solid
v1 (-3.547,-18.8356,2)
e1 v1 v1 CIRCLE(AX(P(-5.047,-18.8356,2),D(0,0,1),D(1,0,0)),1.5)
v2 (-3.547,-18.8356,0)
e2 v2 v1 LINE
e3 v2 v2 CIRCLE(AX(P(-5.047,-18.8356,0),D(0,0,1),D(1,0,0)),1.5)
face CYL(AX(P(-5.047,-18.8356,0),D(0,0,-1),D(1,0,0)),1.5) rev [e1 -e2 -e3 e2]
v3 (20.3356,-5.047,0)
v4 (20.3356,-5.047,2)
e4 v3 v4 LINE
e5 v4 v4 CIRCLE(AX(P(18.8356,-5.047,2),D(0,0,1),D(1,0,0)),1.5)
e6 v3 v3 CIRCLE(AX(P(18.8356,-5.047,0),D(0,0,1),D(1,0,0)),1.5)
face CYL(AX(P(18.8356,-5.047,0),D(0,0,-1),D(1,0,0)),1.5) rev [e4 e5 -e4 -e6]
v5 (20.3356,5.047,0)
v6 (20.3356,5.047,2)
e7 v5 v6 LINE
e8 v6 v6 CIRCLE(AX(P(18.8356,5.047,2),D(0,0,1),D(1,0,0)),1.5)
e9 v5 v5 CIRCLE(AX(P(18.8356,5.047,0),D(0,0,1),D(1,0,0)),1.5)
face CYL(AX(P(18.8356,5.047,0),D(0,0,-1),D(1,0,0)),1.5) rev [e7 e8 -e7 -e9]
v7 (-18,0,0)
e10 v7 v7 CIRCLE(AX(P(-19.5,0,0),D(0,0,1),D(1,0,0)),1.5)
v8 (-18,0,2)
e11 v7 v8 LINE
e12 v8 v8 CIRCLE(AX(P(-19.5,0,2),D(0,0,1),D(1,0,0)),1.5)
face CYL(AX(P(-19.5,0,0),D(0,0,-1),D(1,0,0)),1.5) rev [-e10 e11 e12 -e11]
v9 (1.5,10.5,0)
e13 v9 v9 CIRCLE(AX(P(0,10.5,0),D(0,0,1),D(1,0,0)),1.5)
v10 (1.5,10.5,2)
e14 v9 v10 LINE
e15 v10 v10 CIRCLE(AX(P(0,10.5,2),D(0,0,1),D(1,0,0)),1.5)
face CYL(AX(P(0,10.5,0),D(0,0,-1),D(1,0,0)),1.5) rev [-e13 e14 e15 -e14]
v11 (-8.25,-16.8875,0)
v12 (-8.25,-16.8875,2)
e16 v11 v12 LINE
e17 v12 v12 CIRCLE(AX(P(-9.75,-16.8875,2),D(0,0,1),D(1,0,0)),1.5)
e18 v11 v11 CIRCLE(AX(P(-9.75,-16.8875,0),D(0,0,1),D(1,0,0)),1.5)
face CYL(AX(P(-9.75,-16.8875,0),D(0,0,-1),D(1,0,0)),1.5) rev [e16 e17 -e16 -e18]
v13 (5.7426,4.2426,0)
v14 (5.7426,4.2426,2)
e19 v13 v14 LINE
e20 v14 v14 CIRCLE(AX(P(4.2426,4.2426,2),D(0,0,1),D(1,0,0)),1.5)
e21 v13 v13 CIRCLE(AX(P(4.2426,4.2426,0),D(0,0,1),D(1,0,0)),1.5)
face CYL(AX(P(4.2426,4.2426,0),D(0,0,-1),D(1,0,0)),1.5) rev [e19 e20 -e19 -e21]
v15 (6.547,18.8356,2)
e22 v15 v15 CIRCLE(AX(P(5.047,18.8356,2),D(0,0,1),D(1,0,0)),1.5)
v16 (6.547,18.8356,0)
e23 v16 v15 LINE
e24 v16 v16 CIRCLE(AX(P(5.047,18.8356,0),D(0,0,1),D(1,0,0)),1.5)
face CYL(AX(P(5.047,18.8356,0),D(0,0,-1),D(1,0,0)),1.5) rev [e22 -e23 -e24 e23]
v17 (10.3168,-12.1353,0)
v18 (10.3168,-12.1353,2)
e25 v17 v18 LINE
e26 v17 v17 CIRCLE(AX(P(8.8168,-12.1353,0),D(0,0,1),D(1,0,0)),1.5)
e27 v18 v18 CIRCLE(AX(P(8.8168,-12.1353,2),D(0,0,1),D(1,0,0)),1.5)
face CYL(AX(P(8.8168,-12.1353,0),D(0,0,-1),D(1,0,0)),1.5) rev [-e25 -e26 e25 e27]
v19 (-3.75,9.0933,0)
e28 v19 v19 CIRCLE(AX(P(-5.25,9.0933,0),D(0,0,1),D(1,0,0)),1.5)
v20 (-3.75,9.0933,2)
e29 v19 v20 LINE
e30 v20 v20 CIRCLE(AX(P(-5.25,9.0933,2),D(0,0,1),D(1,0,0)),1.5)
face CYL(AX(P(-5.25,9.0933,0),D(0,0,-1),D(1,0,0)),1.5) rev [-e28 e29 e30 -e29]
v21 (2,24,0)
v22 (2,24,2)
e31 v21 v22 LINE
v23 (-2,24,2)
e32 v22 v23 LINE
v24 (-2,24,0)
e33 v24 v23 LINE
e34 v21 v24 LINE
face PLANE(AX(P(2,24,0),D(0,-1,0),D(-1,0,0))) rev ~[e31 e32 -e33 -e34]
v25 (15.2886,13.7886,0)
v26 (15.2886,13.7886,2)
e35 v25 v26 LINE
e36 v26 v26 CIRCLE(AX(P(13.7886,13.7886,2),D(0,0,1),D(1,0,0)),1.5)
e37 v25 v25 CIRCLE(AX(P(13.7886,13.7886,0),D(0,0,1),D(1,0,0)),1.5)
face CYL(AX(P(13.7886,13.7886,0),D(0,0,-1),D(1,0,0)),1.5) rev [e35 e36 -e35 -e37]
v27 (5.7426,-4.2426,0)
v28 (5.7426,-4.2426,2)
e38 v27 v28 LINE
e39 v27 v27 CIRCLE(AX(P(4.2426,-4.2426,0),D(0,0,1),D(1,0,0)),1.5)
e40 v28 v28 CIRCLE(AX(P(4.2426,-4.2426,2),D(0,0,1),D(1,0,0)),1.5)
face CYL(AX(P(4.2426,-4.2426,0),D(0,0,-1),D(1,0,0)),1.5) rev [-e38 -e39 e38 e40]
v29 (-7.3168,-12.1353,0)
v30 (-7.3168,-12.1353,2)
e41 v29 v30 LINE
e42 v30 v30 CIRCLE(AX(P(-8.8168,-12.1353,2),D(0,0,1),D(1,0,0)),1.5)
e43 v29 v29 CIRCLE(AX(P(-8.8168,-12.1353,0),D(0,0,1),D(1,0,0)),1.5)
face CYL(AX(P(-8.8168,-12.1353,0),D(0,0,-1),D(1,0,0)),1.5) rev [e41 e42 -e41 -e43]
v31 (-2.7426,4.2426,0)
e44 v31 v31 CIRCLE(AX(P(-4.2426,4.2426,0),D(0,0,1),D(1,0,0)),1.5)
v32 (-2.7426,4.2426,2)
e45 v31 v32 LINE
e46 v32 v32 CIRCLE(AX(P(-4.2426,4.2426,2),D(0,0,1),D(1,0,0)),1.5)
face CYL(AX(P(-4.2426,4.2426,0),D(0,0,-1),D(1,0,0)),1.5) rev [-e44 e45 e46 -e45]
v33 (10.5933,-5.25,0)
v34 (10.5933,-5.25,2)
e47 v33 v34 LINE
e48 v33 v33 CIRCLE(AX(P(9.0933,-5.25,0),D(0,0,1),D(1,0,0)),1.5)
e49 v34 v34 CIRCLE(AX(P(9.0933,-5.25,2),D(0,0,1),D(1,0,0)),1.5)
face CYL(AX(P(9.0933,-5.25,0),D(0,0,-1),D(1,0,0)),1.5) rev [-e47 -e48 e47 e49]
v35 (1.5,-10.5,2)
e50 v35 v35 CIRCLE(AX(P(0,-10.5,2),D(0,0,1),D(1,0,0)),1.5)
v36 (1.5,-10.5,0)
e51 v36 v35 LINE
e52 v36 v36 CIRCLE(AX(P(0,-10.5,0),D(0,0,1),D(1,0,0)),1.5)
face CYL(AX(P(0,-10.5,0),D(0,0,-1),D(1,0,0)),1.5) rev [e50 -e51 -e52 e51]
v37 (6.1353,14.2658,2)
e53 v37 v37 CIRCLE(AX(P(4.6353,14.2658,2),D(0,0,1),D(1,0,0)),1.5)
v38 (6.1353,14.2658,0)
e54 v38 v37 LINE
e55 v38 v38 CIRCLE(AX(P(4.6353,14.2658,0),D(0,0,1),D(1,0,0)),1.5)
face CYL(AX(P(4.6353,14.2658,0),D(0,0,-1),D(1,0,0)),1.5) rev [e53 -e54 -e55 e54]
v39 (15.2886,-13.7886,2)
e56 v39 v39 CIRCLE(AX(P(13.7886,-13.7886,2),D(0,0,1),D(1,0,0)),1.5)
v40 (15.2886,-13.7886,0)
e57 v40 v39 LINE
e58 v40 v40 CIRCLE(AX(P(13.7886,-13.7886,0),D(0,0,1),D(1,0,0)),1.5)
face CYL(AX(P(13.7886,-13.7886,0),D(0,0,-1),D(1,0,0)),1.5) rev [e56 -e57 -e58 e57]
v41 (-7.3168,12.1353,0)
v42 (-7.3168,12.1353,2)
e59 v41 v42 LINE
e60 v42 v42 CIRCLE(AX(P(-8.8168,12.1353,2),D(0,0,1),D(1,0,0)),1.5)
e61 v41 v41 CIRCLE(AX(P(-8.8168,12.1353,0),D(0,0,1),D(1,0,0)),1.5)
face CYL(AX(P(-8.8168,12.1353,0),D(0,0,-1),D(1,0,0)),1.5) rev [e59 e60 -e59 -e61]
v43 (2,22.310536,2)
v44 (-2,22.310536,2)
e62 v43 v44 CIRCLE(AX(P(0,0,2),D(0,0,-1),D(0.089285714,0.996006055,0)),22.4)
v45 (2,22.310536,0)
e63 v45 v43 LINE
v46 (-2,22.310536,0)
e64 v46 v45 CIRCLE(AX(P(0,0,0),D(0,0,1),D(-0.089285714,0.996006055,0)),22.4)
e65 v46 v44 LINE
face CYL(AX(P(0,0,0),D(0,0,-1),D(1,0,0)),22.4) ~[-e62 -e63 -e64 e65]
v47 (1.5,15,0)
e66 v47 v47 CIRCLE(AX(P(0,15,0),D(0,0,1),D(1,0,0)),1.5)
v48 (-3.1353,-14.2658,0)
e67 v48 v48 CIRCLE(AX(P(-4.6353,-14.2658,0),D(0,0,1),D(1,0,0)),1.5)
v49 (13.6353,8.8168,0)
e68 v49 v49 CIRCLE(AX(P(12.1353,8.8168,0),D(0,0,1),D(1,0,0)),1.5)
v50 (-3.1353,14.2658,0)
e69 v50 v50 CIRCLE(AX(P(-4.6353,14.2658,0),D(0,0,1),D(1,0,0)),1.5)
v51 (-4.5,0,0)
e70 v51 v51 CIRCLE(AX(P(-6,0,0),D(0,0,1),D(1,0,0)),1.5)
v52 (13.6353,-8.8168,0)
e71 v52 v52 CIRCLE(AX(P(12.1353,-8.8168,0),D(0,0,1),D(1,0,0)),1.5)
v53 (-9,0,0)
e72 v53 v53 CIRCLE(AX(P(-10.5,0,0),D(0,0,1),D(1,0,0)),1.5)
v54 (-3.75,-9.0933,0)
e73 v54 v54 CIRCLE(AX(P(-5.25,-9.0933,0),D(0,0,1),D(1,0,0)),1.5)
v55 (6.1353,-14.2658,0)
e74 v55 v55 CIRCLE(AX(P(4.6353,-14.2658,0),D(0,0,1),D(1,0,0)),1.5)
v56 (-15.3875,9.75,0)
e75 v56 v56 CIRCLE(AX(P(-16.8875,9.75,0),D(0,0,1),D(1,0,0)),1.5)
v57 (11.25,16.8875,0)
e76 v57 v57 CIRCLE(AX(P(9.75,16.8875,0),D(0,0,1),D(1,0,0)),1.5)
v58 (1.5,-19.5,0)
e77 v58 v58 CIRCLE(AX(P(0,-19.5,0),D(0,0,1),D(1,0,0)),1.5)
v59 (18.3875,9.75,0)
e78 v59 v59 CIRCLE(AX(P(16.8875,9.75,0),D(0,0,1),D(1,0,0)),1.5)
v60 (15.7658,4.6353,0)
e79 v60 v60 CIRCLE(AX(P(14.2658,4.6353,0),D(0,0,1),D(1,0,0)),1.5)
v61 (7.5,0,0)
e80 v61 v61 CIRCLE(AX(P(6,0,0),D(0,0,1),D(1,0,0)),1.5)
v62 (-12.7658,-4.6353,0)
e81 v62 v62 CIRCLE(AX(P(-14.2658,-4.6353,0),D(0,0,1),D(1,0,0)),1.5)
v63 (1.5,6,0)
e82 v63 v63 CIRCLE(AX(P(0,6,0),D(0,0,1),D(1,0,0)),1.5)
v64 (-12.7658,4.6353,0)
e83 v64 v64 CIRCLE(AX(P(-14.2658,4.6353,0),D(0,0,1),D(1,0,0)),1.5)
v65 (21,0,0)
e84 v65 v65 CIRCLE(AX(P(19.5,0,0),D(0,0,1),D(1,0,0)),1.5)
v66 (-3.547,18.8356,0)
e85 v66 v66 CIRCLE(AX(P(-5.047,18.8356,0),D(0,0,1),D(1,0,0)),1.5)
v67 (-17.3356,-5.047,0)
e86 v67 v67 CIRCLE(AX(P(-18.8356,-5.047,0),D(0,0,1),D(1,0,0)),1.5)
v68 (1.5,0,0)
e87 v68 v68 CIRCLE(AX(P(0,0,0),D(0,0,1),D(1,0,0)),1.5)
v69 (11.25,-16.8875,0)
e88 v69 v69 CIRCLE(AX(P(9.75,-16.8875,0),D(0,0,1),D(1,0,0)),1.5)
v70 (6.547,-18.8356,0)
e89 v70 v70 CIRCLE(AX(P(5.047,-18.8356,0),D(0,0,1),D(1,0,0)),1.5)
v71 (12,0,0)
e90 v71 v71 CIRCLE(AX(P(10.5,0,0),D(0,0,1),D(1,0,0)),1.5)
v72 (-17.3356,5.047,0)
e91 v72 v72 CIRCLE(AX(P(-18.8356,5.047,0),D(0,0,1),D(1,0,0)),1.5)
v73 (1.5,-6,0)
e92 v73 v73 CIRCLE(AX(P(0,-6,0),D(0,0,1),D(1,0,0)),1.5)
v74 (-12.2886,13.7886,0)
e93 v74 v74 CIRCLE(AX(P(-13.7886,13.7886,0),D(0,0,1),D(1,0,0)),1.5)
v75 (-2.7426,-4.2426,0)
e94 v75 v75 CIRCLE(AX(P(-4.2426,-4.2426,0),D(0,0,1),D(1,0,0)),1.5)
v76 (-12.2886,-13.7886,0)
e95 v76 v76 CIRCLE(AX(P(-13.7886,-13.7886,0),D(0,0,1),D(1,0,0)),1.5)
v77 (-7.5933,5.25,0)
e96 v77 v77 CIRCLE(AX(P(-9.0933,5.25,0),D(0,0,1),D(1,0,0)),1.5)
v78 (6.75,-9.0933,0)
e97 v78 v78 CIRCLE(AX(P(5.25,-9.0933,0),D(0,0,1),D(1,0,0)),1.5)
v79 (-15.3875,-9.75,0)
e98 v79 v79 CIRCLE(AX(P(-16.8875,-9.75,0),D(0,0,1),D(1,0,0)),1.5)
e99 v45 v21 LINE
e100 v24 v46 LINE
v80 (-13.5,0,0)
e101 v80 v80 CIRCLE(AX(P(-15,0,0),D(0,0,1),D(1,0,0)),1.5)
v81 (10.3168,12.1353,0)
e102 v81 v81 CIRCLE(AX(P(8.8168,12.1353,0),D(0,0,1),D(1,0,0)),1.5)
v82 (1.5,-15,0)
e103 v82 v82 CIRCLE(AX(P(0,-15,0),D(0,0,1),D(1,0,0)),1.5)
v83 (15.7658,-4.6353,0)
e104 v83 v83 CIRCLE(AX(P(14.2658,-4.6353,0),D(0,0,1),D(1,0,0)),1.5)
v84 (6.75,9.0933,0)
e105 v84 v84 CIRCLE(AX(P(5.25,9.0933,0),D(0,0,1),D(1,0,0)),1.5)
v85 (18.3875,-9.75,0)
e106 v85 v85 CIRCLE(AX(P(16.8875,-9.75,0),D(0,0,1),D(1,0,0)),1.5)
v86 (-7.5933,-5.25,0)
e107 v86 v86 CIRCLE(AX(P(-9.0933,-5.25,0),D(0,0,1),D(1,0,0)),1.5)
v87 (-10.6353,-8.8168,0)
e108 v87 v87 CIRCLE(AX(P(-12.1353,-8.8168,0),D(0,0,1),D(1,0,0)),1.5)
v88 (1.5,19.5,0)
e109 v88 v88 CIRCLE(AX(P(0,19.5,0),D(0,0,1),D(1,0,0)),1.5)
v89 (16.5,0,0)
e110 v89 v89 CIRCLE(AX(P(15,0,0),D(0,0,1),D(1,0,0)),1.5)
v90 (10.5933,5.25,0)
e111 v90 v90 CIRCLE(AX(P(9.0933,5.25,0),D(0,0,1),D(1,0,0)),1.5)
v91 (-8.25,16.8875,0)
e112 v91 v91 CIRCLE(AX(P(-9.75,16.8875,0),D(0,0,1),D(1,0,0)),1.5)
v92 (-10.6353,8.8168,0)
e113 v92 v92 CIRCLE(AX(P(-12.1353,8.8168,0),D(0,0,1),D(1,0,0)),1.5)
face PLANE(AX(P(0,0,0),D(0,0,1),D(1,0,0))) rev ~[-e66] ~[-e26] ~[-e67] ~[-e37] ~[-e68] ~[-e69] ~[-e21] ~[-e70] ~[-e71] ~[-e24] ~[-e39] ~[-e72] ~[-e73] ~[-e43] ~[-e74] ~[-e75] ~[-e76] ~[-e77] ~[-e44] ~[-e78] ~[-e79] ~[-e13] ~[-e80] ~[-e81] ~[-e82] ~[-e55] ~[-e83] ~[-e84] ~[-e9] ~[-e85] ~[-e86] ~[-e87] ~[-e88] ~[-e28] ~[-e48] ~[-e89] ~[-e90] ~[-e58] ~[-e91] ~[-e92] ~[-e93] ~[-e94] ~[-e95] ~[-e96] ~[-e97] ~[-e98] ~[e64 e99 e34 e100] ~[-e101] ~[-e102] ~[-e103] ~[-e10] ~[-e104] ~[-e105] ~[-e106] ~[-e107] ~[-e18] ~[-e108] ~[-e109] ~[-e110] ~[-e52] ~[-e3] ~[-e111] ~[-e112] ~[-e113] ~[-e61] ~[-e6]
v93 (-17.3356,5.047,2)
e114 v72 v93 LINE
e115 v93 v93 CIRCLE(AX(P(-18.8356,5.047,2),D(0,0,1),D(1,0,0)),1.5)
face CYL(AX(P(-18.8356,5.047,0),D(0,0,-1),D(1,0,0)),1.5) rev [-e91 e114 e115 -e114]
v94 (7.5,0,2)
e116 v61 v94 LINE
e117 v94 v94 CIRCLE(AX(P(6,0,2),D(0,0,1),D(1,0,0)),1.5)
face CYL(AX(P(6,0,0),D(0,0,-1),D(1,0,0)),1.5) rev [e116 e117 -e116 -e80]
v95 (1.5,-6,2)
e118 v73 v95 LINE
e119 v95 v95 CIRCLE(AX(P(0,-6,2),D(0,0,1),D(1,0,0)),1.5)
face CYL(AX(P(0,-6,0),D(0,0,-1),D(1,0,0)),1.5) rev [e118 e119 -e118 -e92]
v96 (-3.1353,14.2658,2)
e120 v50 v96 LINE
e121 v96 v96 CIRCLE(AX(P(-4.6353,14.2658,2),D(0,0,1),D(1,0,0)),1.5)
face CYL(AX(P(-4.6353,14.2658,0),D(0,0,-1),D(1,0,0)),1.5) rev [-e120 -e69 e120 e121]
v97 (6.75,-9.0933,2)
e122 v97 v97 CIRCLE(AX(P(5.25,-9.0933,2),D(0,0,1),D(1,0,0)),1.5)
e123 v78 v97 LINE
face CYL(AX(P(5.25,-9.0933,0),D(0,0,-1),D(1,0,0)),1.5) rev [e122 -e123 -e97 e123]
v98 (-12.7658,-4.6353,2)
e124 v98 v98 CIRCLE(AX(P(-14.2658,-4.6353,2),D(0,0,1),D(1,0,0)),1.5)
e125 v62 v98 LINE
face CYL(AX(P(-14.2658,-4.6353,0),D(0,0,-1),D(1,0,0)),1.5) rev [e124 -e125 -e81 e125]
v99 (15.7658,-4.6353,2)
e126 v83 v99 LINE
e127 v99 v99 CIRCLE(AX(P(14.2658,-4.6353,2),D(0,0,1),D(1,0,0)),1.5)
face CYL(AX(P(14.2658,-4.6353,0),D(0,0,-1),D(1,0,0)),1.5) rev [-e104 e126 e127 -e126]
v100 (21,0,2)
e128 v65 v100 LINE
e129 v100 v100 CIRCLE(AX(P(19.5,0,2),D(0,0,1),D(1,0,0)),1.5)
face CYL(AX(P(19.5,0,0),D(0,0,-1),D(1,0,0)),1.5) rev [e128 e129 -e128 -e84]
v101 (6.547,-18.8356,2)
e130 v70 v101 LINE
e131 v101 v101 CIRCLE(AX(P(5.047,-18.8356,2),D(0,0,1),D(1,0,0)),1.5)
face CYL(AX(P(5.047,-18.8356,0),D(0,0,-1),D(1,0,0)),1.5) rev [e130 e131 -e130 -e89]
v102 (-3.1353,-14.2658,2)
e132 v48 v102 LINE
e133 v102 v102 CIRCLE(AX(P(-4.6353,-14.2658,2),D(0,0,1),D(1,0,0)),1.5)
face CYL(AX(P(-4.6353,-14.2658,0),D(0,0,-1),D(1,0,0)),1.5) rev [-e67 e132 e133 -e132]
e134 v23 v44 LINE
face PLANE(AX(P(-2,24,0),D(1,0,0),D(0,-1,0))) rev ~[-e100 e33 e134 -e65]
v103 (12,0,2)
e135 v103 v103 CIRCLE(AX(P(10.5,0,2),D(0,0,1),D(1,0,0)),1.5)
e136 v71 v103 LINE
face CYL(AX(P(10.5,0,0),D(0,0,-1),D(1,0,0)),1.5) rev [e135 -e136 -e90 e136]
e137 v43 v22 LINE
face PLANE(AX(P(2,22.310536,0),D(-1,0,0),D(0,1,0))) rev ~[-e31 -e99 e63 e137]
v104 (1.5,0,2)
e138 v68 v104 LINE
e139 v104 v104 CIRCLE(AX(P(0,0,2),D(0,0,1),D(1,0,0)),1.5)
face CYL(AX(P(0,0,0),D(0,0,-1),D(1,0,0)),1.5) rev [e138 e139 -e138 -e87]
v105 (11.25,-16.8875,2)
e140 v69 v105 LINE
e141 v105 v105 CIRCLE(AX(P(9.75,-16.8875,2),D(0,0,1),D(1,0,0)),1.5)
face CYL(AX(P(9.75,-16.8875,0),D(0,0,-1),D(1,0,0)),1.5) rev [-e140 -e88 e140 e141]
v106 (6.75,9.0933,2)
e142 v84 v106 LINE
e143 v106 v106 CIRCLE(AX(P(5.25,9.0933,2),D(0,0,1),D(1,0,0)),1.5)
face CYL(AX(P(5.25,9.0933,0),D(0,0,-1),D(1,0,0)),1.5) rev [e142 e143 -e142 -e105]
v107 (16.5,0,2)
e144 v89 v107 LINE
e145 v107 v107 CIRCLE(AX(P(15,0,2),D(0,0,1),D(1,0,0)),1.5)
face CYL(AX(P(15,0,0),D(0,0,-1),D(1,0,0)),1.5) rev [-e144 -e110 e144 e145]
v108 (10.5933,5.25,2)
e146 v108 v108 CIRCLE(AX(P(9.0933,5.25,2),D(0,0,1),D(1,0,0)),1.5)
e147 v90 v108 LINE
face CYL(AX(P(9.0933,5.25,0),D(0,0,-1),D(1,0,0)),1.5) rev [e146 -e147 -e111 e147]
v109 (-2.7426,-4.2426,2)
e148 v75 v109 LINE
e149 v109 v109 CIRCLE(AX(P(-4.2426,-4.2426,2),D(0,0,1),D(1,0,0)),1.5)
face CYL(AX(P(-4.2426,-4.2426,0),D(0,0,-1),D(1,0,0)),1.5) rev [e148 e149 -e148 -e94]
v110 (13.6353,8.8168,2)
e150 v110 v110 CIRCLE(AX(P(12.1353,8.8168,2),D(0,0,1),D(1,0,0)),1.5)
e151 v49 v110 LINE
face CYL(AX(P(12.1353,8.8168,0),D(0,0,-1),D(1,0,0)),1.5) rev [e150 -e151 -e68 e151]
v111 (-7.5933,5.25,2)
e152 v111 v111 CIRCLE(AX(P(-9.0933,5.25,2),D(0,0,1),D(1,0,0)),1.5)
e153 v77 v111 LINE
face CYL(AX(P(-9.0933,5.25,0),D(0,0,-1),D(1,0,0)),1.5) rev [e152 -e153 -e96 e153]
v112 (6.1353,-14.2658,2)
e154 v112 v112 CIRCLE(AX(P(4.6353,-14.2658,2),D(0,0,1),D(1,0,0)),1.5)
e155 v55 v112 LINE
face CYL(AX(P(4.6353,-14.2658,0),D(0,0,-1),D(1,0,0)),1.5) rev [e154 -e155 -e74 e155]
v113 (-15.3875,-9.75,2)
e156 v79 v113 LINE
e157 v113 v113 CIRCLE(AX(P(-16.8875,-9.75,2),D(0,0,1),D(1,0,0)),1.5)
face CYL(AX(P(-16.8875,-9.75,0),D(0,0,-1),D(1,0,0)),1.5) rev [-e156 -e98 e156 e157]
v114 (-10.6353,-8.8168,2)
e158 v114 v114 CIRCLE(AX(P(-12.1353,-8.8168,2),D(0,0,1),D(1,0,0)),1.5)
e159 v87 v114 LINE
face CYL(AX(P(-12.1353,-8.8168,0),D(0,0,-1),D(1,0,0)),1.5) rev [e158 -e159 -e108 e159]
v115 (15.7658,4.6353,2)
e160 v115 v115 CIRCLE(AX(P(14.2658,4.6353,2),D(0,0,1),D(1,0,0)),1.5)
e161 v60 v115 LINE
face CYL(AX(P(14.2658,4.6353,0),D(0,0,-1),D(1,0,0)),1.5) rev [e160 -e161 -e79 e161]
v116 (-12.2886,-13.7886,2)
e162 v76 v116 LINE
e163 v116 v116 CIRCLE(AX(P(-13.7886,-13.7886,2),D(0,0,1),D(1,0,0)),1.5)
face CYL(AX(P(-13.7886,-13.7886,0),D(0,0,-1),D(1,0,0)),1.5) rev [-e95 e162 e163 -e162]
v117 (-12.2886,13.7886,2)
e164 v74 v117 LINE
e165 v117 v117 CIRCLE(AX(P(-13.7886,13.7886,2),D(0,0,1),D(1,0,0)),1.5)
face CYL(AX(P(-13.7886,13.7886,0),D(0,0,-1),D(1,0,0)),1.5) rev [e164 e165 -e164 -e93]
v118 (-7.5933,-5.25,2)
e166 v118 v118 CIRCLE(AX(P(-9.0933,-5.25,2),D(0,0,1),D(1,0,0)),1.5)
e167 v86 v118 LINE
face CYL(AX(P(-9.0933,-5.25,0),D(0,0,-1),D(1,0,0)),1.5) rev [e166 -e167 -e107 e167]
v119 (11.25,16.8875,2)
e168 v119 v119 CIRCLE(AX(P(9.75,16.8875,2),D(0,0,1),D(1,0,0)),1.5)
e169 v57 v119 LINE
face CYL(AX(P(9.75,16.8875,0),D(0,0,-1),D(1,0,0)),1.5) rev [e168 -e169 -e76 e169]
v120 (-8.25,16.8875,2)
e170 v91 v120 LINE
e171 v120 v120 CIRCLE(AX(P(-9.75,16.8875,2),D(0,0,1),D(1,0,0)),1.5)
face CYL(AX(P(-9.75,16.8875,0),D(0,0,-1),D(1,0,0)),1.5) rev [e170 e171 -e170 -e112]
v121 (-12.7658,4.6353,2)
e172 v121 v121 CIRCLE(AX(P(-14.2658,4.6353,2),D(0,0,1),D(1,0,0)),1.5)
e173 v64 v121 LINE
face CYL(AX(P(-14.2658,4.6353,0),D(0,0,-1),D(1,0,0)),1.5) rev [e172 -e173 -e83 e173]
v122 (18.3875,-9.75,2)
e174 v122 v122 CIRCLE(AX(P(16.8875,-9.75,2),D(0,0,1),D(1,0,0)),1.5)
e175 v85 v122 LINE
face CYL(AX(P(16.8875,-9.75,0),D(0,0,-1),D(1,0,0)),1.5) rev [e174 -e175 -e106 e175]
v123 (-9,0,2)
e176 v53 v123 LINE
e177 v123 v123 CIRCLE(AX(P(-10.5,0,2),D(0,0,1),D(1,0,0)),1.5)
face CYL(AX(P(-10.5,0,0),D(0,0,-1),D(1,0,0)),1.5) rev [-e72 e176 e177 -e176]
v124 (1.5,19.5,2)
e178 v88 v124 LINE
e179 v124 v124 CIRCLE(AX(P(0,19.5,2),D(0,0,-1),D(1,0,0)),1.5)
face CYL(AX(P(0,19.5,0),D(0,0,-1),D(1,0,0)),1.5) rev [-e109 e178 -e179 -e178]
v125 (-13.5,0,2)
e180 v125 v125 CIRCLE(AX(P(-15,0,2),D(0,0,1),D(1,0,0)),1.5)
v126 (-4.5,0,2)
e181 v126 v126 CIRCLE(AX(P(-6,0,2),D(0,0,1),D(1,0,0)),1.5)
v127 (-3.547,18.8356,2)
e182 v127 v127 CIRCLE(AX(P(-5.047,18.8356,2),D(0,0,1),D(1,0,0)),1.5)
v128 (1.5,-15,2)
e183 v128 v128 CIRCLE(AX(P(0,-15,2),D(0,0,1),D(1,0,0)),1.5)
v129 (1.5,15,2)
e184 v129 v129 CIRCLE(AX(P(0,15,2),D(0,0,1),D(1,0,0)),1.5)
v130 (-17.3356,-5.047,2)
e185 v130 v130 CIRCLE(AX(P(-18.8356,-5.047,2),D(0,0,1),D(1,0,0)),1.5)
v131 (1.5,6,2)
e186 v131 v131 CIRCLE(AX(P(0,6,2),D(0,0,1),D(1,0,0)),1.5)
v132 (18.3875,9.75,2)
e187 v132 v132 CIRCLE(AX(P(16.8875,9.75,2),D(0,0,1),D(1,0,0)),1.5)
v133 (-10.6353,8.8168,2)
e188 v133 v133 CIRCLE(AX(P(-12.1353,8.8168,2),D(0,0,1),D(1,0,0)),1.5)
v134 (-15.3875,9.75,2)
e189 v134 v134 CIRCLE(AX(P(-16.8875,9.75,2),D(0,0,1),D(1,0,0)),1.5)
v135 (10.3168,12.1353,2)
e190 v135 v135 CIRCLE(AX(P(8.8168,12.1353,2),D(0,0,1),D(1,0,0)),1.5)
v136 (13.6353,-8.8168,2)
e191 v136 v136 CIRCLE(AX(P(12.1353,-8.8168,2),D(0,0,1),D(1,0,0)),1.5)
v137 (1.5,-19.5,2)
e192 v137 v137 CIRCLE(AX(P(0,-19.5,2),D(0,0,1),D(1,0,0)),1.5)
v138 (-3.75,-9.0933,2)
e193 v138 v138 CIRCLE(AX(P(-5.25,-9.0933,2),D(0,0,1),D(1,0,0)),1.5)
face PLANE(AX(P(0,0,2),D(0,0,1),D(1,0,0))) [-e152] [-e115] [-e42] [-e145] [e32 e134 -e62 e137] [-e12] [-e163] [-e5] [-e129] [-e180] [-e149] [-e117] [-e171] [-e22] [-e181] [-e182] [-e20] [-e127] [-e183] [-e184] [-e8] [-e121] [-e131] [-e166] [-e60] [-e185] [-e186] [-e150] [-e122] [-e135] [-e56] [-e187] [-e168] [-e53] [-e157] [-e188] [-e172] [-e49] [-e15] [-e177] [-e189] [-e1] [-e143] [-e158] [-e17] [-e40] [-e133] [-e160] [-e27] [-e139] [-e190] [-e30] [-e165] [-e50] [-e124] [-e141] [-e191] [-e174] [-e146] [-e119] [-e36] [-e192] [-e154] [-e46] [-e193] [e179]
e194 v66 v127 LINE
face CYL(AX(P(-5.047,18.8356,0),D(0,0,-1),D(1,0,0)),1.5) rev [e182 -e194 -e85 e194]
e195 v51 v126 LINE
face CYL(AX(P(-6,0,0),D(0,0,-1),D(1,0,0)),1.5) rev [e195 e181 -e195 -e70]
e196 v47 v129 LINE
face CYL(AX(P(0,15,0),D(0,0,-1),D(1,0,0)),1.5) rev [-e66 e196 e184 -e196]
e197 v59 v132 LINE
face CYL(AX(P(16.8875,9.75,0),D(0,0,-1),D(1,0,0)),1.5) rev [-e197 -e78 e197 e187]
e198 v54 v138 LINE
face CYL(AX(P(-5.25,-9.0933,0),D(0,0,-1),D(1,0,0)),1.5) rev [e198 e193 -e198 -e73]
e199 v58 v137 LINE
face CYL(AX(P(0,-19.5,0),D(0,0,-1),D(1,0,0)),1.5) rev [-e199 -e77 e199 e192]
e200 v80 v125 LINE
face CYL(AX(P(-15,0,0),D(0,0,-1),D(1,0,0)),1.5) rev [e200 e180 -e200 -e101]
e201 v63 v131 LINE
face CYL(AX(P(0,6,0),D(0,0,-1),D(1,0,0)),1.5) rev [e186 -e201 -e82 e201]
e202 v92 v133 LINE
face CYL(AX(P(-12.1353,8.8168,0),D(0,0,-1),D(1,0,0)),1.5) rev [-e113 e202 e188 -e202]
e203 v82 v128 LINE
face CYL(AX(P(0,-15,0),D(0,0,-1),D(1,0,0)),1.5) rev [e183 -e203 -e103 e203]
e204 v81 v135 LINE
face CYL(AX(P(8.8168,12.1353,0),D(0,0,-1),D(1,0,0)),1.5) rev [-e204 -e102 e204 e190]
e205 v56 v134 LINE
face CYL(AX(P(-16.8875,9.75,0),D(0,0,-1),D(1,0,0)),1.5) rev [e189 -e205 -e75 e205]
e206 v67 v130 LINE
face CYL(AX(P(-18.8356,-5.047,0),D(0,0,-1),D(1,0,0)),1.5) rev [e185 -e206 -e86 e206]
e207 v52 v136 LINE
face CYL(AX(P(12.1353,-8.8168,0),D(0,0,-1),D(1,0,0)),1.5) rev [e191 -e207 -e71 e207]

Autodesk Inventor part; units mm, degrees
ref_plane "YZ Plane" through (0, 0, 0) normal (1, 0, 0) x (0, 1, 0)
ref_plane "XZ Plane" through (0, 0, 0) normal (0, 1, 0) x (-1, 0, 0)
ref_plane "XY Plane" through (0, 0, 0) normal (0, 0, 1) x (1, 0, 0)
sketch "Эскиз1" plane through (0, 0, 0) normal (0, 0, 1) x (1, 0, 0)
  circle A0 centre (0, 0) radius 22.4
  circle A1 centre (0, 0) radius 1.5
  circle A2 centre (0, -6) radius 1.5
  circle A3 centre (0, -10.5) radius 1.5
  circle A4 centre (0, -15) radius 1.5
  circle A5 centre (0, -19.5) radius 1.5
  line L0 (-2, 21) -> (2, 21)
  line L1 (2, 21) -> (2, 24)
  line L2 (2, 24) -> (-2, 24)
  line L3 (-2, 24) -> (-2, 21)
  circle A6 centre (4.2426, -4.2426) radius 1.5
  circle A7 centre (6, 0) radius 1.5
  circle A8 centre (4.2426, 4.2426) radius 1.5
  circle A9 centre (0, 6) radius 1.5
  circle A10 centre (-4.2426, 4.2426) radius 1.5
  circle A11 centre (-6, 0) radius 1.5
  circle A12 centre (-4.2426, -4.2426) radius 1.5
  circle A13 centre (5.25, -9.0933) radius 1.5
  circle A14 centre (9.0933, -5.25) radius 1.5
  circle A15 centre (10.5, 0) radius 1.5
  circle A16 centre (9.0933, 5.25) radius 1.5
  circle A17 centre (5.25, 9.0933) radius 1.5
  circle A18 centre (0, 10.5) radius 1.5
  circle A19 centre (-5.25, 9.0933) radius 1.5
  circle A20 centre (-9.0933, 5.25) radius 1.5
  circle A21 centre (-10.5, 0) radius 1.5
  circle A22 centre (-9.0933, -5.25) radius 1.5
  circle A23 centre (-5.25, -9.0933) radius 1.5
  circle A24 centre (4.6353, -14.2658) radius 1.5
  circle A25 centre (8.8168, -12.1353) radius 1.5
  circle A26 centre (12.1353, -8.8168) radius 1.5
  circle A27 centre (14.2658, -4.6353) radius 1.5
  circle A28 centre (15, 0) radius 1.5
  circle A29 centre (14.2658, 4.6353) radius 1.5
  circle A30 centre (12.1353, 8.8168) radius 1.5
  circle A31 centre (8.8168, 12.1353) radius 1.5
  circle A32 centre (4.6353, 14.2658) radius 1.5
  circle A33 centre (0, 15) radius 1.5
  circle A34 centre (-4.6353, 14.2658) radius 1.5
  circle A35 centre (-8.8168, 12.1353) radius 1.5
  circle A36 centre (-12.1353, 8.8168) radius 1.5
  circle A37 centre (-14.2658, 4.6353) radius 1.5
  circle A38 centre (-15, 0) radius 1.5
  circle A39 centre (-14.2658, -4.6353) radius 1.5
  circle A40 centre (-12.1353, -8.8168) radius 1.5
  circle A41 centre (-8.8168, -12.1353) radius 1.5
  circle A42 centre (-4.6353, -14.2658) radius 1.5
  circle A43 centre (5.047, -18.8356) radius 1.5
  circle A44 centre (9.75, -16.8875) radius 1.5
  circle A45 centre (13.7886, -13.7886) radius 1.5
  circle A46 centre (16.8875, -9.75) radius 1.5
  circle A47 centre (18.8356, -5.047) radius 1.5
  circle A48 centre (19.5, 0) radius 1.5
  circle A49 centre (18.8356, 5.047) radius 1.5
  circle A50 centre (16.8875, 9.75) radius 1.5
  circle A51 centre (13.7886, 13.7886) radius 1.5
  circle A52 centre (9.75, 16.8875) radius 1.5
  circle A53 centre (5.047, 18.8356) radius 1.5
  circle A54 centre (0, 19.5) radius 1.5
  circle A55 centre (-5.047, 18.8356) radius 1.5
  circle A56 centre (-9.75, 16.8875) radius 1.5
  circle A57 centre (-13.7886, 13.7886) radius 1.5
  circle A58 centre (-16.8875, 9.75) radius 1.5
  circle A59 centre (-18.8356, 5.047) radius 1.5
  circle A60 centre (-19.5, 0) radius 1.5
  circle A61 centre (-18.8356, -5.047) radius 1.5
  circle A62 centre (-16.8875, -9.75) radius 1.5
  circle A63 centre (-13.7886, -13.7886) radius 1.5
  circle A64 centre (-9.75, -16.8875) radius 1.5
  circle A65 centre (-5.047, -18.8356) radius 1.5
  dimension "d1" = 3
  dimension "d2" = 3
  dimension "d3" = 3
  dimension "d4" = 3
  dimension "d5" = 3
  dimension "d6" = 4
  dimension "d7" = 3
  dimension "d10" = 360
  dimension "d14" = 360
  dimension "d18" = 360
  dimension "d22" = 360
extrude "Выдавливание1" add sketch "Эскиз1" along normal blind 2
properties part number "Матрица"
